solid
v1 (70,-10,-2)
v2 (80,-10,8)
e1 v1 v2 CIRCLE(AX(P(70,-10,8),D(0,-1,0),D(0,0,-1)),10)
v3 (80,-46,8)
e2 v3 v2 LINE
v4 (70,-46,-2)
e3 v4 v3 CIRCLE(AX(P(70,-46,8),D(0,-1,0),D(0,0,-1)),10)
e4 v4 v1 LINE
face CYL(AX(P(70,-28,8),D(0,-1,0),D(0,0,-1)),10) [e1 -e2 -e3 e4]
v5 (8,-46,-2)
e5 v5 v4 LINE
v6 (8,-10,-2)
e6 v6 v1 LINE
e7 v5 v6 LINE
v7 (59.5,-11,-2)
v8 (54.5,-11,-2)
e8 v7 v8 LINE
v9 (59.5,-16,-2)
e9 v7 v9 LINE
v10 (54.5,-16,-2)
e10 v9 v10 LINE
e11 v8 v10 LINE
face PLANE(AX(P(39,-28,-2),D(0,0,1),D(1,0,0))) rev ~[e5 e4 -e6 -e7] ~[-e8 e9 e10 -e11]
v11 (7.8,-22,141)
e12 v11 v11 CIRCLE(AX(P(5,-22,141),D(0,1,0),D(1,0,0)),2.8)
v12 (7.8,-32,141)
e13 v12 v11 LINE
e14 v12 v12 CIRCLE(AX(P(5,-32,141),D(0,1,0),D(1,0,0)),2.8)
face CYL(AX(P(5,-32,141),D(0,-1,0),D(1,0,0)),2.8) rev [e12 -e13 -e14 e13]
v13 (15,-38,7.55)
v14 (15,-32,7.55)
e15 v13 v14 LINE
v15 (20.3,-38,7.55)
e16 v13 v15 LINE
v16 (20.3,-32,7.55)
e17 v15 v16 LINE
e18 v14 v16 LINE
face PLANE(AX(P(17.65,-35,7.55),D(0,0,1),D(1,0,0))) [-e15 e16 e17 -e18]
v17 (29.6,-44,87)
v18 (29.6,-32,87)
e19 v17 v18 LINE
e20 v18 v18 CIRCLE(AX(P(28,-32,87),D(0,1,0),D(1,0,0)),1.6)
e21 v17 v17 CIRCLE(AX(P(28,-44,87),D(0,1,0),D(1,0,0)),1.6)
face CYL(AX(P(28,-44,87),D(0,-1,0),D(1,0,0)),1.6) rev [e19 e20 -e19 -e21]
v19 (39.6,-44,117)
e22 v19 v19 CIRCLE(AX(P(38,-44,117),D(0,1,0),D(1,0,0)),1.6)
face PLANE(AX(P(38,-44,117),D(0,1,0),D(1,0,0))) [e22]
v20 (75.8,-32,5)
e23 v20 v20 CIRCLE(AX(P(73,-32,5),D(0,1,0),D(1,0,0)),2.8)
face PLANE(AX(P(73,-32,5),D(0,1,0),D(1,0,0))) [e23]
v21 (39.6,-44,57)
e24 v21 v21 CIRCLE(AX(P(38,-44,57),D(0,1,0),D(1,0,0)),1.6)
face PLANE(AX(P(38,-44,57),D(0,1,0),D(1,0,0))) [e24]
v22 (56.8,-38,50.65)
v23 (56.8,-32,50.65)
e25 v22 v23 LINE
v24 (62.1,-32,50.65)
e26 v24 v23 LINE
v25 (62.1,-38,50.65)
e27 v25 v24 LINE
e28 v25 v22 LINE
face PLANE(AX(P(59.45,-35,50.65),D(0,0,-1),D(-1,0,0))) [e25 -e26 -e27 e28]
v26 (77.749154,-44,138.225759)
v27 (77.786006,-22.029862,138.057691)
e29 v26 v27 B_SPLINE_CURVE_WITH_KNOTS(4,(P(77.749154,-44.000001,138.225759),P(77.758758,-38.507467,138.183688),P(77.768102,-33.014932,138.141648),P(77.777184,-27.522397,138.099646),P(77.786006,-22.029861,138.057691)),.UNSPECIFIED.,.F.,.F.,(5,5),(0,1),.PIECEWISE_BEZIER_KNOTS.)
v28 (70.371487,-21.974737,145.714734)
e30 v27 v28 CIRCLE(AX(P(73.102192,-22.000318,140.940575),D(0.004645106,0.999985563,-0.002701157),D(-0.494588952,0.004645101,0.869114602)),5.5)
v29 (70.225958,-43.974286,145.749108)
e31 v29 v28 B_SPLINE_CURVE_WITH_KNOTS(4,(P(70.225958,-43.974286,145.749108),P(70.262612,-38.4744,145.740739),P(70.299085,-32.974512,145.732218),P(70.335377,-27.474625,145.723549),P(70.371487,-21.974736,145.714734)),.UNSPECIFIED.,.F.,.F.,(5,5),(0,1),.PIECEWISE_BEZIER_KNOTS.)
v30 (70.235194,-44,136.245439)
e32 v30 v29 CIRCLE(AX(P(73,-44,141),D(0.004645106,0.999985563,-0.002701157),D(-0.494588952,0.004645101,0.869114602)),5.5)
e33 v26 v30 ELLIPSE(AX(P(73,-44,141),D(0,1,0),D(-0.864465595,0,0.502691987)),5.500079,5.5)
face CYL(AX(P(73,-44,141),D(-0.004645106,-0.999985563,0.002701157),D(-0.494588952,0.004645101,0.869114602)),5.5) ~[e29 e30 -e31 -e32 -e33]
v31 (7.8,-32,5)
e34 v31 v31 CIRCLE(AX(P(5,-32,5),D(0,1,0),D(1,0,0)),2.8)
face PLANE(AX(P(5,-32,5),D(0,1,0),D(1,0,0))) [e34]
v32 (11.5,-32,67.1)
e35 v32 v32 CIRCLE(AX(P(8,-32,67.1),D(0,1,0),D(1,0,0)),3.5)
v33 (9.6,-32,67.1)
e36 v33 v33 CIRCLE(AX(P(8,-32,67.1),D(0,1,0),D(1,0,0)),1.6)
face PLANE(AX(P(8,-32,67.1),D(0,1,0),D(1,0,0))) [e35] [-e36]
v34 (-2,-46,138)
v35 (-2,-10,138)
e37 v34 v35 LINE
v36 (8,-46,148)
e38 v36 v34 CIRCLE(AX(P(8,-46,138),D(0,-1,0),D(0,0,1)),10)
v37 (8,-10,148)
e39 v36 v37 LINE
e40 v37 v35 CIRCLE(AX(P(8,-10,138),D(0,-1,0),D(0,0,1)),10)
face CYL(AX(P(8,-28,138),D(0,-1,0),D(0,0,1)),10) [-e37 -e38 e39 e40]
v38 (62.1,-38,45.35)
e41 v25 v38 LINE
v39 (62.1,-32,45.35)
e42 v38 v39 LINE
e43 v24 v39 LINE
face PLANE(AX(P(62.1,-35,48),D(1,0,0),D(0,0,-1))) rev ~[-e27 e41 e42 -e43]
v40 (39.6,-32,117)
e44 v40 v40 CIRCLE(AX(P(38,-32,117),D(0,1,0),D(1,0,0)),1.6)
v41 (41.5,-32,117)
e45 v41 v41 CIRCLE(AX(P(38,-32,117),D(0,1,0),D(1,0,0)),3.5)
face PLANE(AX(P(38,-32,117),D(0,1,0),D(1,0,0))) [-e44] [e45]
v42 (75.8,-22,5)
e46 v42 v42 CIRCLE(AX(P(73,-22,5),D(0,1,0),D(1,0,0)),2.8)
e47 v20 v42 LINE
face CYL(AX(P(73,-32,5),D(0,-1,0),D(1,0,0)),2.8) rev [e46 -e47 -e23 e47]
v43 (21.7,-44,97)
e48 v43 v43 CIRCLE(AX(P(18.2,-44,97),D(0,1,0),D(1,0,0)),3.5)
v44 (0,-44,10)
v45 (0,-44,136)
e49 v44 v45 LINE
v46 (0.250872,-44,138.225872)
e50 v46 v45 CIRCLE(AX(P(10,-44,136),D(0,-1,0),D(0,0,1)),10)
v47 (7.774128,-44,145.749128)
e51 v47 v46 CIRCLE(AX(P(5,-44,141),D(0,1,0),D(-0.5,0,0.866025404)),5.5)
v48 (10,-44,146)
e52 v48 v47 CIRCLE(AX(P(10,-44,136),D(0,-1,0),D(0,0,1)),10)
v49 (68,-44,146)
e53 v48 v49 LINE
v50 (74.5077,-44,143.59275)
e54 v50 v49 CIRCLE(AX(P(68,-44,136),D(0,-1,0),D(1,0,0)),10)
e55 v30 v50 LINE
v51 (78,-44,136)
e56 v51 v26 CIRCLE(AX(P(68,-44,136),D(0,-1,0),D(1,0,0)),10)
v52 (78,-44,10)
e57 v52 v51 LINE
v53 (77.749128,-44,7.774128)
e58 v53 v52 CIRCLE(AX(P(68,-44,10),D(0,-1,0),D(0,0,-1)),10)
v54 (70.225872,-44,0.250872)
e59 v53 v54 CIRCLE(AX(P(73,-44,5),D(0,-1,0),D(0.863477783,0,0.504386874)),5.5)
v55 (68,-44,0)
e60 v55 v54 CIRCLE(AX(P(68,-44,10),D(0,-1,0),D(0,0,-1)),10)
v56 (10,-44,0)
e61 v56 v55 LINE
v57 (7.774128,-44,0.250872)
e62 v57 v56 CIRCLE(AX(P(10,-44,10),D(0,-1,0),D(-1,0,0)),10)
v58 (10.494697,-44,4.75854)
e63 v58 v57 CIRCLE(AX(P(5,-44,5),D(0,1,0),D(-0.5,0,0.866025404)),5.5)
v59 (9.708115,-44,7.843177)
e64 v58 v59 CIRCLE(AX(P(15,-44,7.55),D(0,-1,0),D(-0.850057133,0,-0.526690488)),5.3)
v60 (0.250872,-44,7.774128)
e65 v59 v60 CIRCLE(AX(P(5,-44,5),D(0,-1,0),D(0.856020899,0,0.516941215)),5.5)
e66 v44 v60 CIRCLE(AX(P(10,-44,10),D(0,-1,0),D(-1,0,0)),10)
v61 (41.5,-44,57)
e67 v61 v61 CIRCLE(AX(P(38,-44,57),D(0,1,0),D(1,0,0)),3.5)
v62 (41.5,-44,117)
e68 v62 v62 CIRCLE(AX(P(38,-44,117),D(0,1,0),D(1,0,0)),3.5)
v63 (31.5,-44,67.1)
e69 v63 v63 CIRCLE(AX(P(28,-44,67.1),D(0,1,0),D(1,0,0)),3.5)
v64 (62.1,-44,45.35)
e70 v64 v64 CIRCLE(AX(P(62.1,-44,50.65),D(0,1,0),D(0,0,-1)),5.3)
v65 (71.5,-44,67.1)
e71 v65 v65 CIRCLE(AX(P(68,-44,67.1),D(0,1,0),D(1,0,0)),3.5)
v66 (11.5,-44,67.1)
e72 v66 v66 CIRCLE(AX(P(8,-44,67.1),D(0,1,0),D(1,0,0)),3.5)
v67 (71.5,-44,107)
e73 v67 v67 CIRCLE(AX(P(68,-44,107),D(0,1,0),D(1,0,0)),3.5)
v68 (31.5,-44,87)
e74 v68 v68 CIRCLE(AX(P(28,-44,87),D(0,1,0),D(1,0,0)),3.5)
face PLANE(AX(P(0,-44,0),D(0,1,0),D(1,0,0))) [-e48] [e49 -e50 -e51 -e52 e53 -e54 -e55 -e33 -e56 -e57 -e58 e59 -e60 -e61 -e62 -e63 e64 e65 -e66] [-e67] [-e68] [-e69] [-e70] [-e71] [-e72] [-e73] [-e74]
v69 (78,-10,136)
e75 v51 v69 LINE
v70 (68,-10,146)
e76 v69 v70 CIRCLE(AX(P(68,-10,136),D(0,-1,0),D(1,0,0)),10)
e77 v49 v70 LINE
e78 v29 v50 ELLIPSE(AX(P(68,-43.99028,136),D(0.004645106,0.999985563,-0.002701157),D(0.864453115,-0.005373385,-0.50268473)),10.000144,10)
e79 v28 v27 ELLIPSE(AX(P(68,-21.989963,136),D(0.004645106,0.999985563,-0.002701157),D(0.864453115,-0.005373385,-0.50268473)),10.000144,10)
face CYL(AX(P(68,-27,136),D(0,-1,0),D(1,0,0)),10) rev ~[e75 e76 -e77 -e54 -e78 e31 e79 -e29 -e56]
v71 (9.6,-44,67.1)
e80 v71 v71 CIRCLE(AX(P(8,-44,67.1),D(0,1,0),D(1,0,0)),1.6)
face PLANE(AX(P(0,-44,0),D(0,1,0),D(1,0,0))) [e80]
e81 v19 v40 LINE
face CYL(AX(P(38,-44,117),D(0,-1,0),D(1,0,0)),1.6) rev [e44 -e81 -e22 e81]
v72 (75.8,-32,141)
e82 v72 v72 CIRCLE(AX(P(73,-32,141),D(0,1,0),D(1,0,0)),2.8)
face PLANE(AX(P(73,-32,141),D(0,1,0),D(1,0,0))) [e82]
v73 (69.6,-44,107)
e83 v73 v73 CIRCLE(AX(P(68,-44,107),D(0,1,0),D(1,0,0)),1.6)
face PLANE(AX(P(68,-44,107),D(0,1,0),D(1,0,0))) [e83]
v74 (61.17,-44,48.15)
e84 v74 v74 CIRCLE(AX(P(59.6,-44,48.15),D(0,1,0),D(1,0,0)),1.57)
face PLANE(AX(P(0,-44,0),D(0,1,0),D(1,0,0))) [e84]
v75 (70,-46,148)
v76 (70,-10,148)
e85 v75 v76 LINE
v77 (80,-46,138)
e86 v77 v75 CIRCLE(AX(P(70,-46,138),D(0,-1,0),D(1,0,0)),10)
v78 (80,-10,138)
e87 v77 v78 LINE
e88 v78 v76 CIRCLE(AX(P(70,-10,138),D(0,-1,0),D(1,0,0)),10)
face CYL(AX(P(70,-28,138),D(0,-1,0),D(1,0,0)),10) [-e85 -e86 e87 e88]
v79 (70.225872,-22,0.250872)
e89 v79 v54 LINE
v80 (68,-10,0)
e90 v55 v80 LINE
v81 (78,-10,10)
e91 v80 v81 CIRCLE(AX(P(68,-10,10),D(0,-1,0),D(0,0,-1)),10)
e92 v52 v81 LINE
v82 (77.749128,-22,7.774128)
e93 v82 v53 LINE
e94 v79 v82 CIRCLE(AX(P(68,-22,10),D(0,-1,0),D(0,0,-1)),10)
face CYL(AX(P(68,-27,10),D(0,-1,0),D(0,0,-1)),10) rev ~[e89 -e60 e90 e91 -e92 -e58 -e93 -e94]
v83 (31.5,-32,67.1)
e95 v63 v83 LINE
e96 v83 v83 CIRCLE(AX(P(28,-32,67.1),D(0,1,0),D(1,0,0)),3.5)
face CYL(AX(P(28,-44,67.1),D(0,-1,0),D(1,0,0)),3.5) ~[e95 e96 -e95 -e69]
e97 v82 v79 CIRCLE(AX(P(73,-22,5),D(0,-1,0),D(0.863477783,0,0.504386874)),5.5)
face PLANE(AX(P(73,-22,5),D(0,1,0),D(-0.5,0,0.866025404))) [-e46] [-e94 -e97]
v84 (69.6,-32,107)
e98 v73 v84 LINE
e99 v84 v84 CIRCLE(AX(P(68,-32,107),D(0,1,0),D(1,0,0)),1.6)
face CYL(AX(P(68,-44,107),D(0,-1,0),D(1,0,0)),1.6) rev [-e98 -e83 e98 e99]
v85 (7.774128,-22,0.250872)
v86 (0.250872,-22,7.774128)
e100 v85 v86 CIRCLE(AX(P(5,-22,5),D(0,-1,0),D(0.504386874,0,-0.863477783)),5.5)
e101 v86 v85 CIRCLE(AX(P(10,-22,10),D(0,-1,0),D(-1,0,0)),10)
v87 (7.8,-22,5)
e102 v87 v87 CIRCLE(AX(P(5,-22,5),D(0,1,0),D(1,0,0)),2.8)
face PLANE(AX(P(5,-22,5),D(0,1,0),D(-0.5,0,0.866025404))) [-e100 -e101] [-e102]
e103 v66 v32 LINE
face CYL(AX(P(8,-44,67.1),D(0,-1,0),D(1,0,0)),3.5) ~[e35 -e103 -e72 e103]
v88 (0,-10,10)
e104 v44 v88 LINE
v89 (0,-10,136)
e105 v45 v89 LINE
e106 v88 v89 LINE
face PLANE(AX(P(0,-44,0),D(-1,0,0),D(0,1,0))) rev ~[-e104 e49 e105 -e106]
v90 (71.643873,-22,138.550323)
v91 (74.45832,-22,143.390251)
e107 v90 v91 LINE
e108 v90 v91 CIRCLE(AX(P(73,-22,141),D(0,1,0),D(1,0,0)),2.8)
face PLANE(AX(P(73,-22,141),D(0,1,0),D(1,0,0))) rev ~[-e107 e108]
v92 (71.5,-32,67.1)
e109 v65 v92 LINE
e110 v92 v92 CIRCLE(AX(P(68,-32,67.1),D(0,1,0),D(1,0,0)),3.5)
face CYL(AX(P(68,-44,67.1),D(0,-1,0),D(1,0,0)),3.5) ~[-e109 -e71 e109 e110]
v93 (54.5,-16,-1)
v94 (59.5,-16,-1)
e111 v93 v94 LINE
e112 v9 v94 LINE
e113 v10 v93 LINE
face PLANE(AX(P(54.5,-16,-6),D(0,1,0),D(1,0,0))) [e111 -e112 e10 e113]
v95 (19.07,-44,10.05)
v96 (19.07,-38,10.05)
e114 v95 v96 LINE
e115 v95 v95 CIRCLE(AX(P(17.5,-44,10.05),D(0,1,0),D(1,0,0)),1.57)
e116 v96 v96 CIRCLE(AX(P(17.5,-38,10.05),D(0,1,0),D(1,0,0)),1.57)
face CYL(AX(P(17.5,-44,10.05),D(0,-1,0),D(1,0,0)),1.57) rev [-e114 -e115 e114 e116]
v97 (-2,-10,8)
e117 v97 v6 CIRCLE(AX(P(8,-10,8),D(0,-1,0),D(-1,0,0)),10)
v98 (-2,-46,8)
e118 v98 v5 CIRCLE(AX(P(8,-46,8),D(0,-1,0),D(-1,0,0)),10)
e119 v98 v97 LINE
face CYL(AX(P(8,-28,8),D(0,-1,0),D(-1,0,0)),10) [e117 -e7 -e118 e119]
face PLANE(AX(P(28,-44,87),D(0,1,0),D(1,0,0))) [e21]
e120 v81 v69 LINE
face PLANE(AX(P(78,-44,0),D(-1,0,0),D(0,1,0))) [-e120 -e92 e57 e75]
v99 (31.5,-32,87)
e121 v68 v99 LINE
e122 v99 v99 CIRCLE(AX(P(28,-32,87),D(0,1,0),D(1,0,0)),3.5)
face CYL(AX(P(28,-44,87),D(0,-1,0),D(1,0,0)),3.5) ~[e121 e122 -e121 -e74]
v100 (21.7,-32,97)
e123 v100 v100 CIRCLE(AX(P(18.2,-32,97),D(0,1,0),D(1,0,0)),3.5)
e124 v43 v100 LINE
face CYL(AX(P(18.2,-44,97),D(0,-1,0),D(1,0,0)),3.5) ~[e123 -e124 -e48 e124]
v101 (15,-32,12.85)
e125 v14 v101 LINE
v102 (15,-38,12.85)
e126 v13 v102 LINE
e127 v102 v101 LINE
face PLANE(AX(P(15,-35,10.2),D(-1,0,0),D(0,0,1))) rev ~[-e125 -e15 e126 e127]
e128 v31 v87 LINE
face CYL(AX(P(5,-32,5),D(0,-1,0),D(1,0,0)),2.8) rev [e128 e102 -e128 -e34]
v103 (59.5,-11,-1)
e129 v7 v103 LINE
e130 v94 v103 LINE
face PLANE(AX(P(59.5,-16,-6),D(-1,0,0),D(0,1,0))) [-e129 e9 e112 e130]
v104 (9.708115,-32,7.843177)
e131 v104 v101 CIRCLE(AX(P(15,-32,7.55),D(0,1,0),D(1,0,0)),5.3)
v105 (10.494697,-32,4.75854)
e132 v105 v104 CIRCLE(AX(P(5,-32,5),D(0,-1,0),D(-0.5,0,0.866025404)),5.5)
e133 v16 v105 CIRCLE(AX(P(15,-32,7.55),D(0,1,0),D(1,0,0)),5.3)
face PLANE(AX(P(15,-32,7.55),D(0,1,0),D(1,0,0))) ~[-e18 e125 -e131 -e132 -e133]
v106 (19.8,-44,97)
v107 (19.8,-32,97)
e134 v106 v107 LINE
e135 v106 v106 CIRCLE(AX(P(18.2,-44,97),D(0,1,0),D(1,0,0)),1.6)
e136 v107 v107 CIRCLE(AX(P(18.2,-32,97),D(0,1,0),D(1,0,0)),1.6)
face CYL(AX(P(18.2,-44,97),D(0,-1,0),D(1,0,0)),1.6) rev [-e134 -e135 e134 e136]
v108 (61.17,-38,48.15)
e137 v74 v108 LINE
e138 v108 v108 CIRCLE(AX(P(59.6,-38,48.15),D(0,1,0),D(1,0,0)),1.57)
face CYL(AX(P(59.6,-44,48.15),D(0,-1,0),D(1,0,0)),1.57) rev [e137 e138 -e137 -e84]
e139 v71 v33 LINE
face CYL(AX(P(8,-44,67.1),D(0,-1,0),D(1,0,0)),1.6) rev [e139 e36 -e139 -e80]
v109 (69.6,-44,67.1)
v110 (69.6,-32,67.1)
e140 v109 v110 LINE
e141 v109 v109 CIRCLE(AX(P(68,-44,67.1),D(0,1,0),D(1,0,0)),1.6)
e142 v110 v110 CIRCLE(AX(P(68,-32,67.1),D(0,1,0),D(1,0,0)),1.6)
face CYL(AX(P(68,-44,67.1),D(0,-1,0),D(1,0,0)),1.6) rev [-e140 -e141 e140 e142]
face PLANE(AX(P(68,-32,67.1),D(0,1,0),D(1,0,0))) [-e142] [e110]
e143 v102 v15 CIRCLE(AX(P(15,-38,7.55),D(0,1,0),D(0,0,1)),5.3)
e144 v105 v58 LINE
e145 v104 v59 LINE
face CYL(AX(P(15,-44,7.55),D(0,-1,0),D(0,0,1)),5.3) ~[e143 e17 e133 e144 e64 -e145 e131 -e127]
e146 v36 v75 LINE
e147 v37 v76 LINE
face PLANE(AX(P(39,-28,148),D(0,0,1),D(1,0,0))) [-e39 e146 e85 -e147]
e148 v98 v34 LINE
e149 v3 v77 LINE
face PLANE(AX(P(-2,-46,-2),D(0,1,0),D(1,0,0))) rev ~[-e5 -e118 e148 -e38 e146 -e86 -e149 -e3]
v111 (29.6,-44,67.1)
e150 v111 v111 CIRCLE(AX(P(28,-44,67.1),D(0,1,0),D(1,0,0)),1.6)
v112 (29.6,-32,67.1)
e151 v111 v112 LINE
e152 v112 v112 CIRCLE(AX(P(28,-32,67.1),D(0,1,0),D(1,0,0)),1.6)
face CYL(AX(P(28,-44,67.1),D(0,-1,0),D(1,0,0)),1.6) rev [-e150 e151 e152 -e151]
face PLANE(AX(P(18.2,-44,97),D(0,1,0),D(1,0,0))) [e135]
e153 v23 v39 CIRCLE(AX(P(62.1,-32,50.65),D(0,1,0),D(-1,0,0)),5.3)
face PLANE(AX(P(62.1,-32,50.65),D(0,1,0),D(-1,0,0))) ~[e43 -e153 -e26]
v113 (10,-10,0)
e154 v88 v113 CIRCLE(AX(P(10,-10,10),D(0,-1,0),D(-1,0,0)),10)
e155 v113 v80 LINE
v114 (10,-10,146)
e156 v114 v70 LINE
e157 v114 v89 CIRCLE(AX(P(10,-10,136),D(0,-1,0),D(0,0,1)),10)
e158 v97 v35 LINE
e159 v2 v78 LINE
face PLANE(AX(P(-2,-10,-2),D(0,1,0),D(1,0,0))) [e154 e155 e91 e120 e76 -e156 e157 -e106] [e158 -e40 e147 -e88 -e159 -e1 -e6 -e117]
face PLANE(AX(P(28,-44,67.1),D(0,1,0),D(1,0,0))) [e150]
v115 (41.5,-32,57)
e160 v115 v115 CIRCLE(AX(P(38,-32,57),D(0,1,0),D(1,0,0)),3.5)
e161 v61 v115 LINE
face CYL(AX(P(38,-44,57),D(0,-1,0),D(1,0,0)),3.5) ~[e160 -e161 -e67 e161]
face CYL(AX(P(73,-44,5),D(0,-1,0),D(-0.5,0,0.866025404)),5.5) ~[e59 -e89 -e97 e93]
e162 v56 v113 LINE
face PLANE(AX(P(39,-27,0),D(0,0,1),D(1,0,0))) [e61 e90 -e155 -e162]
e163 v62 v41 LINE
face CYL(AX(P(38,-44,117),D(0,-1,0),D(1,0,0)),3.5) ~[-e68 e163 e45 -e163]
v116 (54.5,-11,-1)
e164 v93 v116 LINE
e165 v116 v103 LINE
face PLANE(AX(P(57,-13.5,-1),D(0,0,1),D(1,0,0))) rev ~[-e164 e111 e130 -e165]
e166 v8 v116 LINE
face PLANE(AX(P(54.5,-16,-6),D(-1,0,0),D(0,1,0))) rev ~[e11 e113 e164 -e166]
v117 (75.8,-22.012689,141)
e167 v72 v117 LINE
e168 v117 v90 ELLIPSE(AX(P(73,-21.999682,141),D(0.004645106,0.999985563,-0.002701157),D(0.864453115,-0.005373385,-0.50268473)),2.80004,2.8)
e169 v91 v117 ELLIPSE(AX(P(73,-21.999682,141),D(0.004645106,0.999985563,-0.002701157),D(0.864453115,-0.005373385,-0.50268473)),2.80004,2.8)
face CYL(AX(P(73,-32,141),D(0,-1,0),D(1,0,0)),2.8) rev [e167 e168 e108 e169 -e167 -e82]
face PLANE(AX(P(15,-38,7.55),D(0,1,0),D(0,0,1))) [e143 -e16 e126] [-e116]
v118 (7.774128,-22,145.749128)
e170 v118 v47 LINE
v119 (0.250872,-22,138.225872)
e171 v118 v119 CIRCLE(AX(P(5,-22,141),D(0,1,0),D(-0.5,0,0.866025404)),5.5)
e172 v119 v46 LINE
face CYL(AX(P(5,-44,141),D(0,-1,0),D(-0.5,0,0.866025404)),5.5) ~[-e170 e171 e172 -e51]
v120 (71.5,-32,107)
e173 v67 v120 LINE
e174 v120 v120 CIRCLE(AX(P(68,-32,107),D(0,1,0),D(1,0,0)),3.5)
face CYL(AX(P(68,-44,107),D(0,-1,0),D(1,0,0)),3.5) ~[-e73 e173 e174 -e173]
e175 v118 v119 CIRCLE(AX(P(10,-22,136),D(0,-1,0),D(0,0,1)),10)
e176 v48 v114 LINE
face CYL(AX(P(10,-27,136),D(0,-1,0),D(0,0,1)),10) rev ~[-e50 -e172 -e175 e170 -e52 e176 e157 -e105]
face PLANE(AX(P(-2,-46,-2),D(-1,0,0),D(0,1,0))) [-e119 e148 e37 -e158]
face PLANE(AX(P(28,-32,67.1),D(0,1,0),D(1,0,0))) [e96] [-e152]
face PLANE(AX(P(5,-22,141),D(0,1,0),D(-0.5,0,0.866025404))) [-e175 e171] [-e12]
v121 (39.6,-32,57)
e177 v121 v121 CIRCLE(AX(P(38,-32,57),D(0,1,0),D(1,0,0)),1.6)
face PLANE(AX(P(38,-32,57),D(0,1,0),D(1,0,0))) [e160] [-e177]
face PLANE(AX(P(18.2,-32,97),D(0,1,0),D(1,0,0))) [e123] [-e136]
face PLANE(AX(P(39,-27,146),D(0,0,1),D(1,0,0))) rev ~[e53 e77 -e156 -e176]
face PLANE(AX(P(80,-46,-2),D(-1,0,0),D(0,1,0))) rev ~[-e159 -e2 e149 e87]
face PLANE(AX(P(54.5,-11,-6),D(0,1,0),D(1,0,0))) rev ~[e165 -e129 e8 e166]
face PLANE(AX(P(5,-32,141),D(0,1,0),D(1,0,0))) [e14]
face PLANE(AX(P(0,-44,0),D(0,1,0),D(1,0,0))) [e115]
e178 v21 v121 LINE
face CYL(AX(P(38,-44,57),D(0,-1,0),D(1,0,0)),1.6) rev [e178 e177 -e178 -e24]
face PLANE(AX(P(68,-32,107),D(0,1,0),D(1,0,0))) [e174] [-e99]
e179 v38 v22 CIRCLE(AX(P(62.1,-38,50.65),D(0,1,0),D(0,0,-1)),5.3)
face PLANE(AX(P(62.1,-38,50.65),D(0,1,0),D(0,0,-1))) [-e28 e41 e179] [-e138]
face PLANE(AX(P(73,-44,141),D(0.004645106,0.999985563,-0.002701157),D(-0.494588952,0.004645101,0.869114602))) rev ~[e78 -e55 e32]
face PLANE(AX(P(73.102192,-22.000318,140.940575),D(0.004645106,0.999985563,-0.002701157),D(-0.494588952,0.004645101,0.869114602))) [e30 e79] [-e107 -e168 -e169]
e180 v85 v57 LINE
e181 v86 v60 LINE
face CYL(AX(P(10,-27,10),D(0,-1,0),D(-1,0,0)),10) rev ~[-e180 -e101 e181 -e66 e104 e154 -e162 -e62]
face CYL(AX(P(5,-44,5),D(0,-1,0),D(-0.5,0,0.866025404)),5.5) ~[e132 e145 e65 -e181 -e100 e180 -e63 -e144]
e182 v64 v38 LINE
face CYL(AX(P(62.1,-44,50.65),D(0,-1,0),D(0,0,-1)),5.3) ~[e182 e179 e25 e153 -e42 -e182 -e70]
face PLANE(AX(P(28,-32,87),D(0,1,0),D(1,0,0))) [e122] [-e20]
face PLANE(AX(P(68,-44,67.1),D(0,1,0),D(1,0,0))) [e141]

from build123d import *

# Parameters (mm, degrees)
BOX043_W                    = 5
BOX043_H                    = 5
BOX043_DEPTH                = 5
CYLINDER081_R               = 1.6
CYLINDER081_DEPTH           = 12
CYLINDER080_R               = 3.5
CYLINDER080_DEPTH           = 12
CYLINDER075_R               = 2.8
CYLINDER075_DEPTH           = 10
CYLINDER074_R               = 5.5
CYLINDER074_DEPTH           = 22
CYLINDER074_ROLL_ANGLE      = 90.312904
CYLINDER074_PITCH_ANGLE     = -60.355913
CYLINDER074_PLACEMENT_ANGLE = 179.461903
CYLINDER077_R               = 2.8
CYLINDER077_DEPTH           = 10
CYLINDER076_R               = 5.5
CYLINDER076_DEPTH           = 22
CYLINDER076_ROLL_ANGLE      = 90
CYLINDER076_PITCH_ANGLE     = -60
CYLINDER076_PLACEMENT_ANGLE = -180
CYLINDER079_R               = 2.8
CYLINDER079_DEPTH           = 10
CYLINDER078_R               = 5.5
CYLINDER078_DEPTH           = 22
CYLINDER078_ROLL_ANGLE      = 90
CYLINDER078_PITCH_ANGLE     = -60
CYLINDER078_PLACEMENT_ANGLE = -180
CYLINDER054_R               = 1.6
CYLINDER054_DEPTH           = 12
CYLINDER055_R               = 1.6
CYLINDER055_DEPTH           = 12
CYLINDER056_R               = 1.6
CYLINDER056_DEPTH           = 12
CYLINDER057_R               = 1.6
CYLINDER057_DEPTH           = 12
CYLINDER058_R               = 1.6
CYLINDER058_DEPTH           = 12
CYLINDER059_R               = 1.6
CYLINDER059_DEPTH           = 12
CYLINDER060_R               = 1.6
CYLINDER060_DEPTH           = 12
CYLINDER061_R               = 1.6
CYLINDER061_DEPTH           = 12
CYLINDER062_R               = 3.5
CYLINDER062_DEPTH           = 12
CYLINDER063_R               = 3.5
CYLINDER063_DEPTH           = 12
CYLINDER064_R               = 3.5
CYLINDER064_DEPTH           = 12
CYLINDER065_R               = 3.5
CYLINDER065_DEPTH           = 12
CYLINDER066_R               = 3.5
CYLINDER066_DEPTH           = 12
CYLINDER067_R               = 3.5
CYLINDER067_DEPTH           = 12
CYLINDER068_R               = 3.5
CYLINDER068_DEPTH           = 12
CYLINDER051_R               = 1.57
CYLINDER051_DEPTH           = 6
CYLINDER050_R               = 5.3
CYLINDER050_DEPTH           = 6
CYLINDER052_W               = 5.3
CYLINDER052_H               = 6
CYLINDER052_ANGLE           = 270
CYLINDER053_W               = 5.3
CYLINDER053_H               = 6
CYLINDER053_ANGLE           = 270
CYLINDER045_W               = 10
CYLINDER045_H               = 34
CYLINDER045_ANGLE           = 90
BOX035_W                    = 10
BOX035_H                    = 34
BOX035_DEPTH                = 10
CUT031_PLACEMENT_ANGLE      = 180
CYLINDER046_W               = 10
CYLINDER046_H               = 34
CYLINDER046_ANGLE           = 90
BOX036_W                    = 10
BOX036_H                    = 34
BOX036_DEPTH                = 10
CUT032_PLACEMENT_ANGLE      = 180
CYLINDER047_W               = 10
CYLINDER047_H               = 34
CYLINDER047_ANGLE           = 90
BOX037_W                    = 10
BOX037_H                    = 34
BOX037_DEPTH                = 10
CUT033_PITCH_ANGLE          = -90
CUT033_PLACEMENT_ANGLE      = 180
CYLINDER044_W               = 10
CYLINDER044_H               = 34
CYLINDER044_ANGLE           = 90
BOX033_W                    = 10
BOX033_H                    = 34
BOX033_DEPTH                = 10
CUT030_PITCH_ANGLE          = 90
CUT030_PLACEMENT_ANGLE      = -180
BOX034_W                    = 78
BOX034_H                    = 34
BOX034_DEPTH                = 146
CYLINDER041_W               = 10
CYLINDER041_H               = 36
CYLINDER041_ANGLE           = 90
BOX030_W                    = 10
BOX030_H                    = 36
BOX030_DEPTH                = 10
CUT026_PLACEMENT_ANGLE      = 180
CYLINDER042_W               = 10
CYLINDER042_H               = 36
CYLINDER042_ANGLE           = 90
BOX031_W                    = 10
BOX031_H                    = 36
BOX031_DEPTH                = 10
CUT027_PLACEMENT_ANGLE      = 180
CYLINDER043_W               = 10
CYLINDER043_H               = 36
CYLINDER043_ANGLE           = 90
BOX032_W                    = 10
BOX032_H                    = 36
BOX032_DEPTH                = 10
CUT028_PITCH_ANGLE          = -90
CUT028_PLACEMENT_ANGLE      = -180
CYLINDER040_W               = 10
CYLINDER040_H               = 36
CYLINDER040_ANGLE           = 90
BOX028_W                    = 10
BOX028_H                    = 36
BOX028_DEPTH                = 10
CUT025_PITCH_ANGLE          = 90
CUT025_PLACEMENT_ANGLE      = -180
BOX029_W                    = 82
BOX029_H                    = 36
BOX029_DEPTH                = 150
CUT035_PLACEMENT_ANGLE      = 180
CYLINDER048_R               = 1.57
CYLINDER048_DEPTH           = 6
CYLINDER049_R               = 5.3
CYLINDER049_DEPTH           = 6
CYLINDER069_R               = 3.5
CYLINDER069_DEPTH           = 12
CYLINDER073_R               = 2.8
CYLINDER073_DEPTH           = 10
CYLINDER072_R               = 5.5
CYLINDER072_DEPTH           = 22
CYLINDER072_ROLL_ANGLE      = 90
CYLINDER072_PITCH_ANGLE     = -60
CYLINDER072_PLACEMENT_ANGLE = -180


with BuildPart() as lightcut:
    # Box043 → Box043 (new body)
    with BuildSketch(Plane(origin=(54.5, -16, -6), x_dir=(1, 0, 0), z_dir=(0, 0, 1))):
        with Locations((2.5, 2.5)):
            Rectangle(BOX043_W, BOX043_H)
    extrude(amount=BOX043_DEPTH)


with BuildPart() as m2heatset009:
    # Cylinder081 → Cylinder081 (new body)
    with BuildSketch(Plane(origin=(8, -44, 67.1), x_dir=(1, 0, 0), z_dir=(0, 1, 0))):
        Circle(CYLINDER081_R)
    extrude(amount=CYLINDER081_DEPTH)


with BuildPart() as m2heatset010:
    # Cylinder080 → Cylinder080 (new body)
    with BuildSketch(Plane(origin=(8, -44, 67.1), x_dir=(1, 0, 0), z_dir=(0, 1, 0))):
        Circle(CYLINDER080_R)
    extrude(amount=CYLINDER080_DEPTH)

    # Cut043: cut m2HeatSet009
    add(m2heatset009.part, mode=Mode.SUBTRACT)


with BuildPart() as m4heatsetcut001:
    # Cylinder075 → Cylinder075 (new body)
    with BuildSketch(Plane(origin=(4.5, -32, 141.5), x_dir=(1, 0, 0), z_dir=(0, 1, 0))):
        Circle(CYLINDER075_R)
    extrude(amount=CYLINDER075_DEPTH)


with BuildPart() as m4heatsetholes001:
    # Cylinder074 → Cylinder074 (new body)
    with BuildSketch(Plane.XY):
        Circle(CYLINDER074_R)
    extrude(amount=CYLINDER074_DEPTH)


with BuildPart() as m4heatsetholes001_1:
    # Cylinder074 roll: moved
    add(m4heatsetholes001.part.rotate(Axis((0, 0, 0), (1, 0, 0)), CYLINDER074_ROLL_ANGLE))


with BuildPart() as m4heatsetholes001_2:
    # Cylinder074 pitch: moved
    add(m4heatsetholes001_1.part.rotate(Axis((0, 0, 0), (0, 1, 0)), CYLINDER074_PITCH_ANGLE))


with BuildPart() as m4heatsetholes001_3:
    # Cylinder074 placement: moved
    add(m4heatsetholes001_2.part.moved(Location((4.5, -44, 141.5))).rotate(Axis((4.5, -44, 141.5), (0, 0, 1)), CYLINDER074_PLACEMENT_ANGLE))

    # Cut040: cut m4HeatSetCut001
    add(m4heatsetcut001.part, mode=Mode.SUBTRACT)


with BuildPart() as m4heatsetholes001_4:
    # Cut040 placement: moved
    add(m4heatsetholes001_3.part.moved(Location((68.5, 0, -0.5))))


with BuildPart() as m4heatsetcut002:
    # Cylinder077 → Cylinder077 (new body)
    with BuildSketch(Plane(origin=(4.5, -32, 141.5), x_dir=(1, 0, 0), z_dir=(0, 1, 0))):
        Circle(CYLINDER077_R)
    extrude(amount=CYLINDER077_DEPTH)


with BuildPart() as m4heatsetholes002:
    # Cylinder076 → Cylinder076 (new body)
    with BuildSketch(Plane.XY):
        Circle(CYLINDER076_R)
    extrude(amount=CYLINDER076_DEPTH)


with BuildPart() as m4heatsetholes002_1:
    # Cylinder076 roll: moved
    add(m4heatsetholes002.part.rotate(Axis((0, 0, 0), (1, 0, 0)), CYLINDER076_ROLL_ANGLE))


with BuildPart() as m4heatsetholes002_2:
    # Cylinder076 pitch: moved
    add(m4heatsetholes002_1.part.rotate(Axis((0, 0, 0), (0, 1, 0)), CYLINDER076_PITCH_ANGLE))


with BuildPart() as m4heatsetholes002_3:
    # Cylinder076 placement: moved
    add(m4heatsetholes002_2.part.moved(Location((4.5, -44, 141.5))).rotate(Axis((4.5, -44, 141.5), (0, 0, 1)), CYLINDER076_PLACEMENT_ANGLE))

    # Cut041: cut m4HeatSetCut002
    add(m4heatsetcut002.part, mode=Mode.SUBTRACT)


with BuildPart() as m4heatsetholes002_4:
    # Cut041 placement: moved
    add(m4heatsetholes002_3.part.moved(Location((0.5, 0, -136.5))))


with BuildPart() as m4heatsetcut003:
    # Cylinder079 → Cylinder079 (new body)
    with BuildSketch(Plane(origin=(4.5, -32, 141.5), x_dir=(1, 0, 0), z_dir=(0, 1, 0))):
        Circle(CYLINDER079_R)
    extrude(amount=CYLINDER079_DEPTH)


with BuildPart() as m4heatsetholes003:
    # Cylinder078 → Cylinder078 (new body)
    with BuildSketch(Plane.XY):
        Circle(CYLINDER078_R)
    extrude(amount=CYLINDER078_DEPTH)


with BuildPart() as m4heatsetholes003_1:
    # Cylinder078 roll: moved
    add(m4heatsetholes003.part.rotate(Axis((0, 0, 0), (1, 0, 0)), CYLINDER078_ROLL_ANGLE))


with BuildPart() as m4heatsetholes003_2:
    # Cylinder078 pitch: moved
    add(m4heatsetholes003_1.part.rotate(Axis((0, 0, 0), (0, 1, 0)), CYLINDER078_PITCH_ANGLE))


with BuildPart() as m4heatsetholes003_3:
    # Cylinder078 placement: moved
    add(m4heatsetholes003_2.part.moved(Location((4.5, -44, 141.5))).rotate(Axis((4.5, -44, 141.5), (0, 0, 1)), CYLINDER078_PLACEMENT_ANGLE))

    # Cut042: cut m4HeatSetCut003
    add(m4heatsetcut003.part, mode=Mode.SUBTRACT)


with BuildPart() as m4heatsetholes003_4:
    # Cut042 placement: moved
    add(m4heatsetholes003_3.part.moved(Location((68.5, 0, -136.5))))


with BuildPart() as m2heatset001:
    # Cylinder054 → Cylinder054 (new body)
    with BuildSketch(Plane(origin=(8, -44, 67.1), x_dir=(1, 0, 0), z_dir=(0, 1, 0))):
        Circle(CYLINDER054_R)
    extrude(amount=CYLINDER054_DEPTH)


with BuildPart() as m2heatset002:
    # Cylinder055 → Cylinder055 (new body)
    with BuildSketch(Plane(origin=(28, -44, 67.1), x_dir=(1, 0, 0), z_dir=(0, 1, 0))):
        Circle(CYLINDER055_R)
    extrude(amount=CYLINDER055_DEPTH)


with BuildPart() as m2heatset003:
    # Cylinder056 → Cylinder056 (new body)
    with BuildSketch(Plane(origin=(68, -44, 67.1), x_dir=(1, 0, 0), z_dir=(0, 1, 0))):
        Circle(CYLINDER056_R)
    extrude(amount=CYLINDER056_DEPTH)


with BuildPart() as m2heatset004:
    # Cylinder057 → Cylinder057 (new body)
    with BuildSketch(Plane(origin=(18.2, -44, 97), x_dir=(1, 0, 0), z_dir=(0, 1, 0))):
        Circle(CYLINDER057_R)
    extrude(amount=CYLINDER057_DEPTH)


with BuildPart() as m2heatset005:
    # Cylinder058 → Cylinder058 (new body)
    with BuildSketch(Plane(origin=(28, -44, 87), x_dir=(1, 0, 0), z_dir=(0, 1, 0))):
        Circle(CYLINDER058_R)
    extrude(amount=CYLINDER058_DEPTH)


with BuildPart() as m2heatset006:
    # Cylinder059 → Cylinder059 (new body)
    with BuildSketch(Plane(origin=(38, -44, 117), x_dir=(1, 0, 0), z_dir=(0, 1, 0))):
        Circle(CYLINDER059_R)
    extrude(amount=CYLINDER059_DEPTH)


with BuildPart() as m2heatset007:
    # Cylinder060 → Cylinder060 (new body)
    with BuildSketch(Plane(origin=(38, -44, 57), x_dir=(1, 0, 0), z_dir=(0, 1, 0))):
        Circle(CYLINDER060_R)
    extrude(amount=CYLINDER060_DEPTH)


with BuildPart() as m2heatset008:
    # Cylinder061 → Cylinder061 (new body)
    with BuildSketch(Plane(origin=(68, -44, 107), x_dir=(1, 0, 0), z_dir=(0, 1, 0))):
        Circle(CYLINDER061_R)
    extrude(amount=CYLINDER061_DEPTH)


with BuildPart() as m2heatsetcuts:
    # Cylinder062 → Cylinder062 (new body)
    with BuildSketch(Plane(origin=(8, -44, 67.1), x_dir=(1, 0, 0), z_dir=(0, 1, 0))):
        Circle(CYLINDER062_R)
    extrude(amount=CYLINDER062_DEPTH)

    # Fusion021: union m2HeatSet001, m2HeatSet002, m2HeatSet003, m2HeatSet004, m2HeatSet005, m2HeatSet006, m2HeatSet007, m2HeatSet008
    add(m2heatset001.part)
    add(m2heatset002.part)
    add(m2heatset003.part)
    add(m2heatset004.part)
    add(m2heatset005.part)
    add(m2heatset006.part)
    add(m2heatset007.part)
    add(m2heatset008.part)


with BuildPart() as m2heatsetout001:
    # Cylinder063 → Cylinder063 (new body)
    with BuildSketch(Plane(origin=(28, -44, 67.1), x_dir=(1, 0, 0), z_dir=(0, 1, 0))):
        Circle(CYLINDER063_R)
    extrude(amount=CYLINDER063_DEPTH)


with BuildPart() as m2heatsetout002:
    # Cylinder064 → Cylinder064 (new body)
    with BuildSketch(Plane(origin=(18.2, -44, 97), x_dir=(1, 0, 0), z_dir=(0, 1, 0))):
        Circle(CYLINDER064_R)
    extrude(amount=CYLINDER064_DEPTH)


with BuildPart() as m2heatsetout003:
    # Cylinder065 → Cylinder065 (new body)
    with BuildSketch(Plane(origin=(68, -44, 67.1), x_dir=(1, 0, 0), z_dir=(0, 1, 0))):
        Circle(CYLINDER065_R)
    extrude(amount=CYLINDER065_DEPTH)


with BuildPart() as m2heatsetout004:
    # Cylinder066 → Cylinder066 (new body)
    with BuildSketch(Plane(origin=(28, -44, 87), x_dir=(1, 0, 0), z_dir=(0, 1, 0))):
        Circle(CYLINDER066_R)
    extrude(amount=CYLINDER066_DEPTH)


with BuildPart() as m2heatsetout005:
    # Cylinder067 → Cylinder067 (new body)
    with BuildSketch(Plane(origin=(38, -44, 57), x_dir=(1, 0, 0), z_dir=(0, 1, 0))):
        Circle(CYLINDER067_R)
    extrude(amount=CYLINDER067_DEPTH)


with BuildPart() as m2heatsetout006:
    # Cylinder068 → Cylinder068 (new body)
    with BuildSketch(Plane(origin=(68, -44, 107), x_dir=(1, 0, 0), z_dir=(0, 1, 0))):
        Circle(CYLINDER068_R)
    extrude(amount=CYLINDER068_DEPTH)


with BuildPart() as cylinder051:
    # Cylinder051 → Cylinder051 (new body)
    with BuildSketch(Plane(origin=(59.6, -44, 48.15), x_dir=(1, 0, 0), z_dir=(0, 1, 0))):
        Circle(CYLINDER051_R)
    extrude(amount=CYLINDER051_DEPTH)


with BuildPart() as cut037:
    # Cylinder050 → Cylinder050 (new body)
    with BuildSketch(Plane(origin=(62.1, -44, 50.65), x_dir=(0, 0, -1), z_dir=(0, 1, 0))):
        Circle(CYLINDER050_R)
    extrude(amount=CYLINDER050_DEPTH)

    # Cut037: cut Cylinder051
    add(cylinder051.part, mode=Mode.SUBTRACT)


with BuildPart() as cylinder052:
    # Cylinder052 → Cylinder052 (revolve)
    with BuildSketch(Plane(origin=(15, -38, 7.55), x_dir=(1, 0, 0), z_dir=(0, 0, 1))):
        with Locations((2.65, 3)):
            Rectangle(CYLINDER052_W, CYLINDER052_H)
    revolve(axis=Axis((15, -38, 7.55), (0, 1, 0)), revolution_arc=CYLINDER052_ANGLE)


with BuildPart() as cylinder053:
    # Cylinder053 → Cylinder053 (revolve)
    with BuildSketch(Plane(origin=(62.1, -38, 50.65), x_dir=(-1, 0, 0), z_dir=(0, 0, -1))):
        with Locations((2.65, 3)):
            Rectangle(CYLINDER053_W, CYLINDER053_H)
    revolve(axis=Axis((62.1, -38, 50.65), (0, 1, 0)), revolution_arc=CYLINDER053_ANGLE)


with BuildPart() as cylinder045:
    # Cylinder045 → Cylinder045 (revolve)
    with BuildSketch(Plane(origin=(0, 26, 0), x_dir=(1, 0, 0), z_dir=(0, 0, -1))):
        with Locations((5, 17)):
            Rectangle(CYLINDER045_W, CYLINDER045_H)
    revolve(axis=Axis((0, 26, 0), (0, -1, 0)), revolution_arc=CYLINDER045_ANGLE)


with BuildPart() as cut031:
    # Box035 → Box035 (new body)
    with BuildSketch(Plane(origin=(0, -8, 0), x_dir=(1, 0, 0), z_dir=(0, 0, 1))):
        with Locations((5, 17)):
            Rectangle(BOX035_W, BOX035_H)
    extrude(amount=BOX035_DEPTH)

    # Cut031: cut Cylinder045
    add(cylinder045.part, mode=Mode.SUBTRACT)


with BuildPart() as cut031_1:
    # Cut031 placement: moved
    add(cut031.part.moved(Location((70, 18, 8))).rotate(Axis((70, 18, 8), (1, 0, 0)), CUT031_PLACEMENT_ANGLE))


with BuildPart() as cylinder046:
    # Cylinder046 → Cylinder046 (revolve)
    with BuildSketch(Plane(origin=(0, 26, 0), x_dir=(1, 0, 0), z_dir=(0, 0, -1))):
        with Locations((5, 17)):
            Rectangle(CYLINDER046_W, CYLINDER046_H)
    revolve(axis=Axis((0, 26, 0), (0, -1, 0)), revolution_arc=CYLINDER046_ANGLE)


with BuildPart() as cut032:
    # Box036 → Box036 (new body)
    with BuildSketch(Plane(origin=(0, -8, 0), x_dir=(1, 0, 0), z_dir=(0, 0, 1))):
        with Locations((5, 17)):
            Rectangle(BOX036_W, BOX036_H)
    extrude(amount=BOX036_DEPTH)

    # Cut032: cut Cylinder046
    add(cylinder046.part, mode=Mode.SUBTRACT)


with BuildPart() as cut032_1:
    # Cut032 placement: moved
    add(cut032.part.moved(Location((12, 18, 134))).rotate(Axis((12, 18, 134), (0, 0, 1)), CUT032_PLACEMENT_ANGLE))


with BuildPart() as cylinder047:
    # Cylinder047 → Cylinder047 (revolve)
    with BuildSketch(Plane(origin=(0, 26, 0), x_dir=(1, 0, 0), z_dir=(0, 0, -1))):
        with Locations((5, 17)):
            Rectangle(CYLINDER047_W, CYLINDER047_H)
    revolve(axis=Axis((0, 26, 0), (0, -1, 0)), revolution_arc=CYLINDER047_ANGLE)


with BuildPart() as cut033:
    # Box037 → Box037 (new body)
    with BuildSketch(Plane(origin=(0, -8, 0), x_dir=(1, 0, 0), z_dir=(0, 0, 1))):
        with Locations((5, 17)):
            Rectangle(BOX037_W, BOX037_H)
    extrude(amount=BOX037_DEPTH)

    # Cut033: cut Cylinder047
    add(cylinder047.part, mode=Mode.SUBTRACT)


with BuildPart() as cut033_1:
    # Cut033 pitch: moved
    add(cut033.part.rotate(Axis((0, 0, 0), (0, 1, 0)), CUT033_PITCH_ANGLE))


with BuildPart() as cut033_2:
    # Cut033 placement: moved
    add(cut033_1.part.moved(Location((70, 18, 134))).rotate(Axis((70, 18, 134), (0, 0, 1)), CUT033_PLACEMENT_ANGLE))


with BuildPart() as cylinder044:
    # Cylinder044 → Cylinder044 (revolve)
    with BuildSketch(Plane(origin=(0, 26, 0), x_dir=(1, 0, 0), z_dir=(0, 0, -1))):
        with Locations((5, 17)):
            Rectangle(CYLINDER044_W, CYLINDER044_H)
    revolve(axis=Axis((0, 26, 0), (0, -1, 0)), revolution_arc=CYLINDER044_ANGLE)


with BuildPart() as fusion018:
    # Box033 → Box033 (new body)
    with BuildSketch(Plane(origin=(0, -8, 0), x_dir=(1, 0, 0), z_dir=(0, 0, 1))):
        with Locations((5, 17)):
            Rectangle(BOX033_W, BOX033_H)
    extrude(amount=BOX033_DEPTH)

    # Cut030: cut Cylinder044
    add(cylinder044.part, mode=Mode.SUBTRACT)


with BuildPart() as fusion018_1:
    # Cut030 pitch: moved
    add(fusion018.part.rotate(Axis((0, 0, 0), (0, 1, 0)), CUT030_PITCH_ANGLE))


with BuildPart() as fusion018_2:
    # Cut030 placement: moved
    add(fusion018_1.part.moved(Location((12, 18, 8))).rotate(Axis((12, 18, 8), (0, 0, 1)), CUT030_PLACEMENT_ANGLE))

    # Fusion018: union Cut031, Cut032, Cut033
    add(cut031_1.part)
    add(cut032_1.part)
    add(cut033_2.part)


with BuildPart() as baseout003:
    # Box034 → Box034 (new body)
    with BuildSketch(Plane(origin=(80, 26, -2), x_dir=(-1, 0, 0), z_dir=(0, 0, 1))):
        with Locations((39, 17)):
            Rectangle(BOX034_W, BOX034_H)
    extrude(amount=BOX034_DEPTH)

    # Cut034: cut Fusion018
    add(fusion018_2.part, mode=Mode.SUBTRACT)


with BuildPart() as baseout003_1:
    # Cut034 placement: moved
    add(baseout003.part.moved(Location((-2, -2, 2))))


with BuildPart() as cylinder041:
    # Cylinder041 → Cylinder041 (revolve)
    with BuildSketch(Plane(origin=(0, 26, 0), x_dir=(1, 0, 0), z_dir=(0, 0, -1))):
        with Locations((5, 18)):
            Rectangle(CYLINDER041_W, CYLINDER041_H)
    revolve(axis=Axis((0, 26, 0), (0, -1, 0)), revolution_arc=CYLINDER041_ANGLE)


with BuildPart() as cut026:
    # Box030 → Box030 (new body)
    with BuildSketch(Plane(origin=(0, -10, 0), x_dir=(1, 0, 0), z_dir=(0, 0, 1))):
        with Locations((5, 18)):
            Rectangle(BOX030_W, BOX030_H)
    extrude(amount=BOX030_DEPTH)

    # Cut026: cut Cylinder041
    add(cylinder041.part, mode=Mode.SUBTRACT)


with BuildPart() as cut026_1:
    # Cut026 placement: moved
    add(cut026.part.moved(Location((70, 18, 8))).rotate(Axis((70, 18, 8), (1, 0, 0)), CUT026_PLACEMENT_ANGLE))


with BuildPart() as cylinder042:
    # Cylinder042 → Cylinder042 (revolve)
    with BuildSketch(Plane(origin=(0, 26, 0), x_dir=(1, 0, 0), z_dir=(0, 0, -1))):
        with Locations((5, 18)):
            Rectangle(CYLINDER042_W, CYLINDER042_H)
    revolve(axis=Axis((0, 26, 0), (0, -1, 0)), revolution_arc=CYLINDER042_ANGLE)


with BuildPart() as cut027:
    # Box031 → Box031 (new body)
    with BuildSketch(Plane(origin=(0, -10, 0), x_dir=(1, 0, 0), z_dir=(0, 0, 1))):
        with Locations((5, 18)):
            Rectangle(BOX031_W, BOX031_H)
    extrude(amount=BOX031_DEPTH)

    # Cut027: cut Cylinder042
    add(cylinder042.part, mode=Mode.SUBTRACT)


with BuildPart() as cut027_1:
    # Cut027 placement: moved
    add(cut027.part.moved(Location((8, 18, 138))).rotate(Axis((8, 18, 138), (0, 0, 1)), CUT027_PLACEMENT_ANGLE))


with BuildPart() as cylinder043:
    # Cylinder043 → Cylinder043 (revolve)
    with BuildSketch(Plane(origin=(0, 26, 0), x_dir=(1, 0, 0), z_dir=(0, 0, -1))):
        with Locations((5, 18)):
            Rectangle(CYLINDER043_W, CYLINDER043_H)
    revolve(axis=Axis((0, 26, 0), (0, -1, 0)), revolution_arc=CYLINDER043_ANGLE)


with BuildPart() as cut028:
    # Box032 → Box032 (new body)
    with BuildSketch(Plane(origin=(0, -10, 0), x_dir=(1, 0, 0), z_dir=(0, 0, 1))):
        with Locations((5, 18)):
            Rectangle(BOX032_W, BOX032_H)
    extrude(amount=BOX032_DEPTH)

    # Cut028: cut Cylinder043
    add(cylinder043.part, mode=Mode.SUBTRACT)


with BuildPart() as cut028_1:
    # Cut028 pitch: moved
    add(cut028.part.rotate(Axis((0, 0, 0), (0, 1, 0)), CUT028_PITCH_ANGLE))


with BuildPart() as cut028_2:
    # Cut028 placement: moved
    add(cut028_1.part.moved(Location((70, 18, 138))).rotate(Axis((70, 18, 138), (0, 0, 1)), CUT028_PLACEMENT_ANGLE))


with BuildPart() as cylinder040:
    # Cylinder040 → Cylinder040 (revolve)
    with BuildSketch(Plane(origin=(0, 26, 0), x_dir=(1, 0, 0), z_dir=(0, 0, -1))):
        with Locations((5, 18)):
            Rectangle(CYLINDER040_W, CYLINDER040_H)
    revolve(axis=Axis((0, 26, 0), (0, -1, 0)), revolution_arc=CYLINDER040_ANGLE)


with BuildPart() as fusion017:
    # Box028 → Box028 (new body)
    with BuildSketch(Plane(origin=(0, -10, 0), x_dir=(1, 0, 0), z_dir=(0, 0, 1))):
        with Locations((5, 18)):
            Rectangle(BOX028_W, BOX028_H)
    extrude(amount=BOX028_DEPTH)

    # Cut025: cut Cylinder040
    add(cylinder040.part, mode=Mode.SUBTRACT)


with BuildPart() as fusion017_1:
    # Cut025 pitch: moved
    add(fusion017.part.rotate(Axis((0, 0, 0), (0, 1, 0)), CUT025_PITCH_ANGLE))


with BuildPart() as fusion017_2:
    # Cut025 placement: moved
    add(fusion017_1.part.moved(Location((8, 18, 8))).rotate(Axis((8, 18, 8), (0, 0, 1)), CUT025_PLACEMENT_ANGLE))

    # Fusion017: union Cut026, Cut027, Cut028
    add(cut026_1.part)
    add(cut027_1.part)
    add(cut028_2.part)


with BuildPart() as fusion017_3:
    # Fusion017 placement: moved
    add(fusion017_2.part.moved(Location((0, -2, 0))))


with BuildPart() as basetop:
    # Box029 → Box029 (new body)
    with BuildSketch(Plane(origin=(80, 26, -2), x_dir=(-1, 0, 0), z_dir=(0, 0, 1))):
        with Locations((41, 18)):
            Rectangle(BOX029_W, BOX029_H)
    extrude(amount=BOX029_DEPTH)

    # Cut029: cut Fusion017
    add(fusion017_3.part, mode=Mode.SUBTRACT)

    # Cut035: cut BaseOut003
    add(baseout003_1.part, mode=Mode.SUBTRACT)


with BuildPart() as basetop_1:
    # Cut035 placement: moved
    add(basetop.part.moved(Location((78, -20, 0))).rotate(Axis((78, -20, 0), (0, 0, 1)), CUT035_PLACEMENT_ANGLE))


with BuildPart() as cylinder048:
    # Cylinder048 → Cylinder048 (new body)
    with BuildSketch(Plane(origin=(17.5, -44, 10.05), x_dir=(1, 0, 0), z_dir=(0, 1, 0))):
        Circle(CYLINDER048_R)
    extrude(amount=CYLINDER048_DEPTH)


with BuildPart() as basetop001:
    # Cylinder049 → Cylinder049 (new body)
    with BuildSketch(Plane(origin=(15, -44, 7.55), x_dir=(0, 0, 1), z_dir=(0, 1, 0))):
        Circle(CYLINDER049_R)
    extrude(amount=CYLINDER049_DEPTH)

    # Cut036: cut Cylinder048
    add(cylinder048.part, mode=Mode.SUBTRACT)

    # Fusion019: union Cut037, Cylinder052, Cylinder053, baseTop
    add(cut037.part)
    add(cylinder052.part)
    add(cylinder053.part)
    add(basetop_1.part)


with BuildPart() as basetop003:
    # Cylinder069 → Cylinder069 (new body)
    with BuildSketch(Plane(origin=(38, -44, 117), x_dir=(1, 0, 0), z_dir=(0, 1, 0))):
        Circle(CYLINDER069_R)
    extrude(amount=CYLINDER069_DEPTH)

    # Fusion020: union m2HeatSetOut001, m2HeatSetOut002, m2HeatSetOut003, m2HeatSetOut004, m2HeatSetOut005, m2HeatSetOut006, baseTop001
    add(m2heatsetout001.part)
    add(m2heatsetout002.part)
    add(m2heatsetout003.part)
    add(m2heatsetout004.part)
    add(m2heatsetout005.part)
    add(m2heatsetout006.part)
    add(basetop001.part)

    # Cut038: cut m2HeatSetCuts
    add(m2heatsetcuts.part, mode=Mode.SUBTRACT)


with BuildPart() as m4heatsetcut:
    # Cylinder073 → Cylinder073 (new body)
    with BuildSketch(Plane(origin=(4.5, -32, 141.5), x_dir=(1, 0, 0), z_dir=(0, 1, 0))):
        Circle(CYLINDER073_R)
    extrude(amount=CYLINDER073_DEPTH)


with BuildPart() as basetop006:
    # Cylinder072 → Cylinder072 (new body)
    with BuildSketch(Plane.XY):
        Circle(CYLINDER072_R)
    extrude(amount=CYLINDER072_DEPTH)


with BuildPart() as basetop006_1:
    # Cylinder072 roll: moved
    add(basetop006.part.rotate(Axis((0, 0, 0), (1, 0, 0)), CYLINDER072_ROLL_ANGLE))


with BuildPart() as basetop006_2:
    # Cylinder072 pitch: moved
    add(basetop006_1.part.rotate(Axis((0, 0, 0), (0, 1, 0)), CYLINDER072_PITCH_ANGLE))


with BuildPart() as basetop006_3:
    # Cylinder072 placement: moved
    add(basetop006_2.part.moved(Location((4.5, -44, 141.5))).rotate(Axis((4.5, -44, 141.5), (0, 0, 1)), CYLINDER072_PLACEMENT_ANGLE))

    # Cut039: cut m4HeatSetCut
    add(m4heatsetcut.part, mode=Mode.SUBTRACT)


with BuildPart() as basetop006_4:
    # Cut039 placement: moved
    add(basetop006_3.part.moved(Location((0.5, 0, -0.5))))

    # Fusion023: union m4HeatSetHoles001, m4HeatSetHoles002, m4HeatSetHoles003, baseTop003
    add(m4heatsetholes001_4.part)
    add(m4heatsetholes002_4.part)
    add(m4heatsetholes003_4.part)
    add(basetop003.part)

    # Fusion024: union m2HeatSet010
    add(m2heatset010.part)

    # Cut052: cut lightCut
    add(lightcut.part, mode=Mode.SUBTRACT)


solid = basetop006_4.part
